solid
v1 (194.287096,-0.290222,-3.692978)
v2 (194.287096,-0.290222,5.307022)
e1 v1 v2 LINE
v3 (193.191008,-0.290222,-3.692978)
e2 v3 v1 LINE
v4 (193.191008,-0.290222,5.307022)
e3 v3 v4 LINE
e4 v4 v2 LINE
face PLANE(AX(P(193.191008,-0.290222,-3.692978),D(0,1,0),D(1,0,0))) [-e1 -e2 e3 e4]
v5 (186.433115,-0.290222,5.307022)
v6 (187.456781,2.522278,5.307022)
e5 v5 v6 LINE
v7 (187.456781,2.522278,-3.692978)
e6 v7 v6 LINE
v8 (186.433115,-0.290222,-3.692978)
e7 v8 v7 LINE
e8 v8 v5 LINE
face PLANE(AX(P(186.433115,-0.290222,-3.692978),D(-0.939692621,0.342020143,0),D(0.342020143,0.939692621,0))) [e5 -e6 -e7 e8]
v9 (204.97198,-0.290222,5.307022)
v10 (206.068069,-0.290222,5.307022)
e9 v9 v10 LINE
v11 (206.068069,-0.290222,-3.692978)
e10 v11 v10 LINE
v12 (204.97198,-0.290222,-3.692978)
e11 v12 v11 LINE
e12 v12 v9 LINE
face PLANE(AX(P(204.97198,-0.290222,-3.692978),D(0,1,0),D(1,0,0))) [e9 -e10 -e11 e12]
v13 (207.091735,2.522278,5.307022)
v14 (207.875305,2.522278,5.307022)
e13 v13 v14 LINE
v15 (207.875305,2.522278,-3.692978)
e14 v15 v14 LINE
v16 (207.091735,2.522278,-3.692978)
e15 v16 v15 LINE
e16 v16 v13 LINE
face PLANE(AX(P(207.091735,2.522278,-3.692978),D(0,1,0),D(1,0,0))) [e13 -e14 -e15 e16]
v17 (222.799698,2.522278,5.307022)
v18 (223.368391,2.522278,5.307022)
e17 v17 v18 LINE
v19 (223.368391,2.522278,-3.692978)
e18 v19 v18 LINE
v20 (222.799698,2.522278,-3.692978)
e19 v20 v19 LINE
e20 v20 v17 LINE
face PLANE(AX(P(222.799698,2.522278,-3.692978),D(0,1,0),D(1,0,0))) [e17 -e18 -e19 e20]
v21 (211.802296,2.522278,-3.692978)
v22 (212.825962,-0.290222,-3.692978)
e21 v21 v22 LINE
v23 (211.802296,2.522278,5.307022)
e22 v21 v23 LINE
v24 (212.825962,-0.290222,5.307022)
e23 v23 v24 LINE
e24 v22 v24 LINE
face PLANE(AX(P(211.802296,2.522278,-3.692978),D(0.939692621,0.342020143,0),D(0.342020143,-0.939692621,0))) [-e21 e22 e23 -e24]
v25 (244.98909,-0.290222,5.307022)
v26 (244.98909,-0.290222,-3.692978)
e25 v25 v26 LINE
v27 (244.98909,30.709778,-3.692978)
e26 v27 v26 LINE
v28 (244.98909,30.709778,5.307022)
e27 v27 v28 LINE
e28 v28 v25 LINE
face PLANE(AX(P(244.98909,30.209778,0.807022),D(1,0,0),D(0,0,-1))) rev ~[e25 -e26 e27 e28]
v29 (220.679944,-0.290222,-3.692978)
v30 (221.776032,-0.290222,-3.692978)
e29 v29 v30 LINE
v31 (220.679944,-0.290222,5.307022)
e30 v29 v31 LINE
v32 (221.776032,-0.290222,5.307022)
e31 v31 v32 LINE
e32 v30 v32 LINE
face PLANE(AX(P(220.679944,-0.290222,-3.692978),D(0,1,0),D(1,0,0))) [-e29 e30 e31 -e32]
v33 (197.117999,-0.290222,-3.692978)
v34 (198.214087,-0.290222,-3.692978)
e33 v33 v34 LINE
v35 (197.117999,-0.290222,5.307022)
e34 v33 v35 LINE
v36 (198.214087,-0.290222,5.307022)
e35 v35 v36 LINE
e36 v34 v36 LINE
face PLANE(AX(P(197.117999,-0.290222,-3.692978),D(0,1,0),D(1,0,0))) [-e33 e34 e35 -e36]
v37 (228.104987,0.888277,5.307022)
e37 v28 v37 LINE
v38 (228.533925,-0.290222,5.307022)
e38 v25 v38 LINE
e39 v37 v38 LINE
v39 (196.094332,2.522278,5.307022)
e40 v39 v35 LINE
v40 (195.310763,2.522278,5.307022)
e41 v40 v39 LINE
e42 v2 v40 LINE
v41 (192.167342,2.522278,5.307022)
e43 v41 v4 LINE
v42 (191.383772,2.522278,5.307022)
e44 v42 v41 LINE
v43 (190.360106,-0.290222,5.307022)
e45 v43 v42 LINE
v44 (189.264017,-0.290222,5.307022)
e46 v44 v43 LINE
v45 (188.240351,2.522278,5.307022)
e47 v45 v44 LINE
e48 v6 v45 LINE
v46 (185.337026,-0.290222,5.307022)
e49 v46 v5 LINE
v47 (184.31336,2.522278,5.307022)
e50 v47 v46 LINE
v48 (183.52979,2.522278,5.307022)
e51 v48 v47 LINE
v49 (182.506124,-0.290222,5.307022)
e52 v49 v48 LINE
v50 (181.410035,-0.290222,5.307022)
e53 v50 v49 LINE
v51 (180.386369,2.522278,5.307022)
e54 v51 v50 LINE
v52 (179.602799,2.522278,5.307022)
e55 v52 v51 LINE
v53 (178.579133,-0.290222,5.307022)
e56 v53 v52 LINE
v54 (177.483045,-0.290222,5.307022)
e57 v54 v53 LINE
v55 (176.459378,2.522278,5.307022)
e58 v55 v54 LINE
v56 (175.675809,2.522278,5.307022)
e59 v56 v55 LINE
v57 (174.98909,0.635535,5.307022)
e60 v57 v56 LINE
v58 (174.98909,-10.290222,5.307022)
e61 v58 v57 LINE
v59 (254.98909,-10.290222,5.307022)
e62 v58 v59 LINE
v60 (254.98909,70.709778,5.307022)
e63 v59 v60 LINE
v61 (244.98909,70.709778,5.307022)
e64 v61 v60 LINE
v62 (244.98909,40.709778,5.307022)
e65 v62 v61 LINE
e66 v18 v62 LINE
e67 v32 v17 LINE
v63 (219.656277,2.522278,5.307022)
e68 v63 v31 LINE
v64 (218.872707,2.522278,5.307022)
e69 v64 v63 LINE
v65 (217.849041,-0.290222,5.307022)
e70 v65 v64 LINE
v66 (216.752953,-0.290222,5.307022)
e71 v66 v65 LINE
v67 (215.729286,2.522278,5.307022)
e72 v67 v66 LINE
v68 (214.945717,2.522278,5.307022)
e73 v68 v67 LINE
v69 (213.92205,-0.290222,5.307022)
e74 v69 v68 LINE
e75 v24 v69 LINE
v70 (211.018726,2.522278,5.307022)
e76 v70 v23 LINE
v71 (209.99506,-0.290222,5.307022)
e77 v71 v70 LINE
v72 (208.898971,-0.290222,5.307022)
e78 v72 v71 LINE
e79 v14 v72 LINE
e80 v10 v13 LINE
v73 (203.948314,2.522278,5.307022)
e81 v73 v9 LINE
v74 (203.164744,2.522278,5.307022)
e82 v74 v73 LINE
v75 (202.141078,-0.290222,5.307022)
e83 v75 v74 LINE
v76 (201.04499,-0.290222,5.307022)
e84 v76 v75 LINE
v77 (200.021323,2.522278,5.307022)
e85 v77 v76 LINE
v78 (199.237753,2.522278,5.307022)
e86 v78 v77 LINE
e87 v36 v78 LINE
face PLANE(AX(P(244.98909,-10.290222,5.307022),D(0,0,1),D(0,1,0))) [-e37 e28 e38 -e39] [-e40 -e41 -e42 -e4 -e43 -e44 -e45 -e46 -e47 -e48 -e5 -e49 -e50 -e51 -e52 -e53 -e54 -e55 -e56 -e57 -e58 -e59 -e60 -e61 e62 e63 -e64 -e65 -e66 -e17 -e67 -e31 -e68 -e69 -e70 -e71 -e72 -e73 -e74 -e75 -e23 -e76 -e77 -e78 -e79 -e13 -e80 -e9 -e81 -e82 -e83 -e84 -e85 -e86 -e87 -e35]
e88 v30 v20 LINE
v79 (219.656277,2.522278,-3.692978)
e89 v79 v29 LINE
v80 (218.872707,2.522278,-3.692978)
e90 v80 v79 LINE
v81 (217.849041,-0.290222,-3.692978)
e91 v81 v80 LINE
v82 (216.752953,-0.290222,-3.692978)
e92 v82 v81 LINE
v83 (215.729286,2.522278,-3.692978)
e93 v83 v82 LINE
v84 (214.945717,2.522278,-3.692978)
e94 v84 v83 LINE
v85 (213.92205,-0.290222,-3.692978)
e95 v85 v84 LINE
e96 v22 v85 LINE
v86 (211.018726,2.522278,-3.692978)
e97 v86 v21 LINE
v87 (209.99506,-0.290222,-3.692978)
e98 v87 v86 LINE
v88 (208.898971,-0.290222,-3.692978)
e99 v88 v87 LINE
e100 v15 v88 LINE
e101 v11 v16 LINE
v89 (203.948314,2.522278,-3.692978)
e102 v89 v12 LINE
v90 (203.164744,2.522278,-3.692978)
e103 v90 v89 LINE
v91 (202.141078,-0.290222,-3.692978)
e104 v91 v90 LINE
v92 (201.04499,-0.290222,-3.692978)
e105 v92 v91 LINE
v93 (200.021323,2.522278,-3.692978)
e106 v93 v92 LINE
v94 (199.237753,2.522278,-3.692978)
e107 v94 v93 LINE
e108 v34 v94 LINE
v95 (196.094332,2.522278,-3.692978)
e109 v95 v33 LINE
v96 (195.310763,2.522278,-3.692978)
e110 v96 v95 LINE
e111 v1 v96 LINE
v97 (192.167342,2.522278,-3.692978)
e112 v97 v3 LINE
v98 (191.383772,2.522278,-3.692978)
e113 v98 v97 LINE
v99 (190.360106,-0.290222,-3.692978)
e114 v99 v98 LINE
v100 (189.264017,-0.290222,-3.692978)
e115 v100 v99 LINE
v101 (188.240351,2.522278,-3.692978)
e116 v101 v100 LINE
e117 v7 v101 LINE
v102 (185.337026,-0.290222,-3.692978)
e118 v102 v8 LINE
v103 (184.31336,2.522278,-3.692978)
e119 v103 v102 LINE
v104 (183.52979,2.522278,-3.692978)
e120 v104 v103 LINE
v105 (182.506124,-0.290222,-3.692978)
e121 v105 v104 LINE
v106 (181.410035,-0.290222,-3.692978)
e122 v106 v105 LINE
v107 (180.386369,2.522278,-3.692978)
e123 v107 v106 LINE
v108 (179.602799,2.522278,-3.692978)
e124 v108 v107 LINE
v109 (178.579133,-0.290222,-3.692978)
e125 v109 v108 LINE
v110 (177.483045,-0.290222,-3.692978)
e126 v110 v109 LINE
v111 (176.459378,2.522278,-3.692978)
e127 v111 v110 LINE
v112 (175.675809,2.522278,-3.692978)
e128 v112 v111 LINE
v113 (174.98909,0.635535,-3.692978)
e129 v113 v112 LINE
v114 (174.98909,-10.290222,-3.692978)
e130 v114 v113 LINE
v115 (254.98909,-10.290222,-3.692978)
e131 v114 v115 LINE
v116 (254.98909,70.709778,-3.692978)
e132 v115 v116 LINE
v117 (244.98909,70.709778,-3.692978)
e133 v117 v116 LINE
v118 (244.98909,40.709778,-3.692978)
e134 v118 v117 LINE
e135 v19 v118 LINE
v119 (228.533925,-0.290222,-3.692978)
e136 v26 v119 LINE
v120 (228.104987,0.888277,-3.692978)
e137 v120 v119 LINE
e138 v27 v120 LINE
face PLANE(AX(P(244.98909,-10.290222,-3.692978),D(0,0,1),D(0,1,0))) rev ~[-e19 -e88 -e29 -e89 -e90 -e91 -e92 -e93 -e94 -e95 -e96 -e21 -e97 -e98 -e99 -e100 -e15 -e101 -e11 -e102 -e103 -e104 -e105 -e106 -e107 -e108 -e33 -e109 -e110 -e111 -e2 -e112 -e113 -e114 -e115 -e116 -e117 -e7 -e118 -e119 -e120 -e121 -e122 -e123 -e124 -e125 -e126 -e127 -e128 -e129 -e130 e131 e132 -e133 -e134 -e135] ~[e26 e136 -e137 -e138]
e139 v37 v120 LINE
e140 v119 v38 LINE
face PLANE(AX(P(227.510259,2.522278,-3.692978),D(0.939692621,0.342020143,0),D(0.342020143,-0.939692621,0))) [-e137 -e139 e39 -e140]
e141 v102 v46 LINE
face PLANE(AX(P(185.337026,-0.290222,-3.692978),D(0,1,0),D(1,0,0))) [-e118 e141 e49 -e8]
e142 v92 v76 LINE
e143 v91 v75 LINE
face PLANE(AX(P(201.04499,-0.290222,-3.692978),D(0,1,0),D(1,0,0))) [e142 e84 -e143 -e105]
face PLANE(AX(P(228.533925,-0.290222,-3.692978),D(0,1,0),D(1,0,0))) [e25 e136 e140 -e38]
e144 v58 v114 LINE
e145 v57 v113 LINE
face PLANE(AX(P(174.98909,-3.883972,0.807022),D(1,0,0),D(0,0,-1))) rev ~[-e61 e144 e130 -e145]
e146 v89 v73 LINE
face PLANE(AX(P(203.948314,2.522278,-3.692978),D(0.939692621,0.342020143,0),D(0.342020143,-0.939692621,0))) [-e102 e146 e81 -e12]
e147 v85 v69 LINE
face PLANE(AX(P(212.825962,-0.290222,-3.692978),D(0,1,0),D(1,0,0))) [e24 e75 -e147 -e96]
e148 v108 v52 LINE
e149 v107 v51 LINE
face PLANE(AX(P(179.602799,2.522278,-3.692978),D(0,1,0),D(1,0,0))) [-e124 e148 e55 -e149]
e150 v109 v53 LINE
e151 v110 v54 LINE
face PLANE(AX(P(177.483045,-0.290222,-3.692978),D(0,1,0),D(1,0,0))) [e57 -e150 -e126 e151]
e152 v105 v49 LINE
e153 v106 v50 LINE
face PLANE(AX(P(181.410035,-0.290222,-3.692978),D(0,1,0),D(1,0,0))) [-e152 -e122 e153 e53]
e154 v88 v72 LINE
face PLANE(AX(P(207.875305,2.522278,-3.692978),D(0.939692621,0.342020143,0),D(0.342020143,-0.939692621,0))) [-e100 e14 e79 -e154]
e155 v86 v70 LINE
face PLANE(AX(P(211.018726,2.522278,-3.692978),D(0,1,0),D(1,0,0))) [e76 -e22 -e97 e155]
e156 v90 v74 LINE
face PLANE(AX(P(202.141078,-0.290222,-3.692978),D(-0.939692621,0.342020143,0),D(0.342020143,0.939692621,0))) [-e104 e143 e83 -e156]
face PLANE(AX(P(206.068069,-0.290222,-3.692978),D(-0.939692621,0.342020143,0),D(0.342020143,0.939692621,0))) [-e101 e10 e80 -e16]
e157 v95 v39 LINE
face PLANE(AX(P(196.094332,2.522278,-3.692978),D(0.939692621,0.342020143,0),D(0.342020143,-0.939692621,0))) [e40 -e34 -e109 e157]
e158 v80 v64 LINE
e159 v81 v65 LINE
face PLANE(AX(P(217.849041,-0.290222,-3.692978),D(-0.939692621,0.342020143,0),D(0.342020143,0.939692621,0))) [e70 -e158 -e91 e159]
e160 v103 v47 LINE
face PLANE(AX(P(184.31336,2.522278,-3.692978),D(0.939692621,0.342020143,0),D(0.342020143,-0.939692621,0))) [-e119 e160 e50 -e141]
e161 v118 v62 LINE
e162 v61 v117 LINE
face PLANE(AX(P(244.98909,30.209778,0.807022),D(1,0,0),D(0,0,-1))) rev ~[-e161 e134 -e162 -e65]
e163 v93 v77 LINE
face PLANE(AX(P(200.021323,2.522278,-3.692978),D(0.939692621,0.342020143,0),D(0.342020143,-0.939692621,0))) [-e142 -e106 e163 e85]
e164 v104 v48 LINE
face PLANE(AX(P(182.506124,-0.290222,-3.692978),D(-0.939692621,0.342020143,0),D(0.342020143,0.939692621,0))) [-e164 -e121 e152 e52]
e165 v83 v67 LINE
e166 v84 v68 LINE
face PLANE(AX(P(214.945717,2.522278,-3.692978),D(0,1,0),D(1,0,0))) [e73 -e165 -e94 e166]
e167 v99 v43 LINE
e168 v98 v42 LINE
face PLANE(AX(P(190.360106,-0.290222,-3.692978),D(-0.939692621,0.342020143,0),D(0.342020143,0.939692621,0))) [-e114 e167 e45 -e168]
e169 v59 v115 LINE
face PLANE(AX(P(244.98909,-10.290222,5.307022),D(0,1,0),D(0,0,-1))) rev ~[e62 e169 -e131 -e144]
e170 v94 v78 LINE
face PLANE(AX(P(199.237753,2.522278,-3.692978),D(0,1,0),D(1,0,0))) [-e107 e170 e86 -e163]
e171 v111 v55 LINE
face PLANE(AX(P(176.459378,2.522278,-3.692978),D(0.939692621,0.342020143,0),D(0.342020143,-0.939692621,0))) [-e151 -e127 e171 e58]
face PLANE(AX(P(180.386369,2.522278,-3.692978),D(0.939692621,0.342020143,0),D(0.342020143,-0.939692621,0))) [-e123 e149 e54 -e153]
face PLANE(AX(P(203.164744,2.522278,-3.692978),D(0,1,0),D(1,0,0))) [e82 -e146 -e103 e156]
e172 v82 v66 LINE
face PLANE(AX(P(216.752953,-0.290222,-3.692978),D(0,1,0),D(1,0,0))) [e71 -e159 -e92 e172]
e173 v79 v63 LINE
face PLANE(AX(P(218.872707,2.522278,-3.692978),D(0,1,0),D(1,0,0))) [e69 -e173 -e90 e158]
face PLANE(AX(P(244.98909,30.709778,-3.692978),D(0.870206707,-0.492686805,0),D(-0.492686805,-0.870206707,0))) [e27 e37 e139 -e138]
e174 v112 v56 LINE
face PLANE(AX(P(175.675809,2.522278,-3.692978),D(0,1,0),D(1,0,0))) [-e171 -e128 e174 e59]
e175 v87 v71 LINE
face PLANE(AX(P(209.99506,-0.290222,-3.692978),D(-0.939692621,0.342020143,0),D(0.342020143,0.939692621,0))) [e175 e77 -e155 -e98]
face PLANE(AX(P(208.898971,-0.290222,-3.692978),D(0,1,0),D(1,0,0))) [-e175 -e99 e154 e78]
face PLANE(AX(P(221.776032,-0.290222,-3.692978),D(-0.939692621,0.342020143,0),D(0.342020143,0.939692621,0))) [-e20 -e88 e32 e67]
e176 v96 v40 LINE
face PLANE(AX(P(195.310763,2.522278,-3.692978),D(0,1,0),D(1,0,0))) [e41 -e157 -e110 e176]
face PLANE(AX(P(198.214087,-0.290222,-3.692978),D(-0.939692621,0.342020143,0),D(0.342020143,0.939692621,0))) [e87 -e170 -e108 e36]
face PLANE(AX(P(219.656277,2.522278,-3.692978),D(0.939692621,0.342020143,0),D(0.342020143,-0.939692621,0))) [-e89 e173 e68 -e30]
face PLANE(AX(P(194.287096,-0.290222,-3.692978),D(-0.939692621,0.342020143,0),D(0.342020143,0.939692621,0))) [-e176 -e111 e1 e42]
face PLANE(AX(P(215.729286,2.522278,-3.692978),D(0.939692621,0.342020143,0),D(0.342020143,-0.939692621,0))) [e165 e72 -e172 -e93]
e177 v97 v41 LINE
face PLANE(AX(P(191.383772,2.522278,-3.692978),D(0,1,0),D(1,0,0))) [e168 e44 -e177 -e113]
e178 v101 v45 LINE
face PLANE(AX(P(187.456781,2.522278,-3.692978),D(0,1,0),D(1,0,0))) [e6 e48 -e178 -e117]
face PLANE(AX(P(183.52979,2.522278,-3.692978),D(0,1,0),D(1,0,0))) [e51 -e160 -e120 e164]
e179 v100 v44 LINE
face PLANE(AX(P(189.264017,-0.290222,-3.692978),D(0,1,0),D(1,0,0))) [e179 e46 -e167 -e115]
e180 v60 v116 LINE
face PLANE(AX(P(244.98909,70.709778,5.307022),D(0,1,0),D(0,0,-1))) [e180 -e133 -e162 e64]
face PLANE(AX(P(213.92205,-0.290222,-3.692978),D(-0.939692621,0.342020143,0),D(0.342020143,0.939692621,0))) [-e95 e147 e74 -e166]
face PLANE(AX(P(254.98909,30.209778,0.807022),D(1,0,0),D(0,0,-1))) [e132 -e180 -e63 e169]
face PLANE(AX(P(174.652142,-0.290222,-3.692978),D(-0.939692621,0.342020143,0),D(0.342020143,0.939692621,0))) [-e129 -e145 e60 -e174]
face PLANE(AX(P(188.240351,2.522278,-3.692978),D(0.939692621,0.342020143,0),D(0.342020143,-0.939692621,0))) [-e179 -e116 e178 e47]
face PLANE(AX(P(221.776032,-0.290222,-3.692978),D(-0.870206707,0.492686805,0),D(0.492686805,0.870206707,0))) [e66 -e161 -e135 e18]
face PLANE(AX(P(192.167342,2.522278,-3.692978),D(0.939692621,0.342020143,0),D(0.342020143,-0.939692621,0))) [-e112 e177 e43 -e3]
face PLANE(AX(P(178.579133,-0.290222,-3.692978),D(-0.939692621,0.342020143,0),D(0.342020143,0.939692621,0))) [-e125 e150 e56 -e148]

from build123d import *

# Parameters (mm, degrees)
BOSS_EXTRUDE1_DEPTH      = 9
CUT_EXTRUDE3_START       = -75
SKETCH4_W                = 9
SKETCH4_H                = 12.8125
CUT_EXTRUDE3_DEPTH       = 426.134035175
BOSS_EXTRUDE2_DEPTH      = 5
BOSS_EXTRUDE2_DEPTH_BACK = 5
SKETCH5_W                = 9
SKETCH5_H                = 81
BOSS_EXTRUDE3_DEPTH      = 9
CUT_EXTRUDE4_DEPTH       = 10


with BuildPart() as part:
    # Sketch1 → Boss-Extrude1 (new body)
    with BuildSketch(Plane(origin=(0, 0, -3.69297844), x_dir=(-1, 0, 0), z_dir=(0, 0, -1))):
        Polygon((-247.145212992, 2.522278293), (-248.168879276, -0.290221707), (-249.2649677, -0.290221707), (-249.9890903, 1.699288787), (-249.9890903, -10.290221707), (250.0109097, -10.290221707), (250.0109097, -0.290221707), (249.462865488, -0.290221707), (248.439199204, 2.522278293), (247.655629383, 2.522278293), (246.631963099, -0.290221707), (245.535874675, -0.290221707), (244.512208391, 2.522278293), (243.728638571, 2.522278293), (242.704972287, -0.290221707), (241.608883863, -0.290221707), (240.585217579, 2.522278293), (239.801647758, 2.522278293), (238.777981474, -0.290221707), (237.68189305, -0.290221707), (236.658226766, 2.522278293), (235.874656946, 2.522278293), (234.850990662, -0.290221707), (233.754902238, -0.290221707), (232.731235954, 2.522278293), (231.947666133, 2.522278293), (230.923999849, -0.290221707), (229.827911425, -0.290221707), (228.804245141, 2.522278293), (228.020675321, 2.522278293), (226.997009037, -0.290221707), (225.900920613, -0.290221707), (224.877254329, 2.522278293), (224.093684508, 2.522278293), (223.070018224, -0.290221707), (221.9739298, -0.290221707), (220.950263516, 2.522278293), (220.166693696, 2.522278293), (219.143027412, -0.290221707), (218.046938988, -0.290221707), (217.023272704, 2.522278293), (216.239702883, 2.522278293), (215.216036599, -0.290221707), (214.119948175, -0.290221707), (213.096281891, 2.522278293), (212.312712071, 2.522278293), (211.289045787, -0.290221707), (210.192957363, -0.290221707), (209.169291079, 2.522278293), (208.385721258, 2.522278293), (207.362054974, -0.290221707), (206.26596655, -0.290221707), (205.242300266, 2.522278293), (204.458730446, 2.522278293), (203.435064162, -0.290221707), (202.338975738, -0.290221707), (201.315309454, 2.522278293), (200.531739633, 2.522278293), (199.508073349, -0.290221707), (198.411984925, -0.290221707), (197.388318641, 2.522278293), (196.604748821, 2.522278293), (195.581082537, -0.290221707), (194.484994113, -0.290221707), (193.461327829, 2.522278293), (192.677758008, 2.522278293), (191.654091724, -0.290221707), (190.5580033, -0.290221707), (189.534337016, 2.522278293), (188.750767196, 2.522278293), (187.727100912, -0.290221707), (186.631012488, -0.290221707), (185.607346204, 2.522278293), (184.823776383, 2.522278293), (183.800110099, -0.290221707), (182.704021675, -0.290221707), (181.680355391, 2.522278293), (180.896785571, 2.522278293), (179.873119287, -0.290221707), (178.777030863, -0.290221707), (177.753364579, 2.522278293), (176.969794758, 2.522278293), (175.946128474, -0.290221707), (174.85004005, -0.290221707), (173.826373766, 2.522278293), (173.042803946, 2.522278293), (172.019137662, -0.290221707), (170.923049238, -0.290221707), (169.899382954, 2.522278293), (169.115813133, 2.522278293), (168.092146849, -0.290221707), (166.996058425, -0.290221707), (165.972392141, 2.522278293), (165.188822321, 2.522278293), (164.165156037, -0.290221707), (163.069067613, -0.290221707), (162.045401329, 2.522278293), (161.261831508, 2.522278293), (160.238165224, -0.290221707), (159.1420768, -0.290221707), (158.118410516, 2.522278293), (157.334840696, 2.522278293), (156.311174412, -0.290221707), (155.215085988, -0.290221707), (154.191419704, 2.522278293), (153.407849883, 2.522278293), (152.384183599, -0.290221707), (151.288095175, -0.290221707), (150.264428891, 2.522278293), (149.480859071, 2.522278293), (148.457192787, -0.290221707), (147.361104363, -0.290221707), (146.337438079, 2.522278293), (145.553868258, 2.522278293), (144.530201974, -0.290221707), (143.43411355, -0.290221707), (142.410447266, 2.522278293), (141.626877446, 2.522278293), (140.603211162, -0.290221707), (139.507122738, -0.290221707), (138.483456454, 2.522278293), (137.699886633, 2.522278293), (136.676220349, -0.290221707), (135.580131925, -0.290221707), (134.556465641, 2.522278293), (133.772895821, 2.522278293), (132.749229537, -0.290221707), (131.653141113, -0.290221707), (130.629474829, 2.522278293), (129.845905008, 2.522278293), (128.822238724, -0.290221707), (127.7261503, -0.290221707), (126.702484016, 2.522278293), (125.918914196, 2.522278293), (124.895247912, -0.290221707), (123.799159488, -0.290221707), (122.775493204, 2.522278293), (121.991923383, 2.522278293), (120.968257099, -0.290221707), (119.872168675, -0.290221707), (118.848502391, 2.522278293), (118.064932571, 2.522278293), (117.041266287, -0.290221707), (115.945177863, -0.290221707), (114.921511579, 2.522278293), (114.137941758, 2.522278293), (113.114275474, -0.290221707), (112.01818705, -0.290221707), (110.994520766, 2.522278293), (110.210950946, 2.522278293), (109.187284662, -0.290221707), (108.091196238, -0.290221707), (107.067529954, 2.522278293), (106.283960133, 2.522278293), (105.260293849, -0.290221707), (104.164205425, -0.290221707), (103.140539141, 2.522278293), (102.356969321, 2.522278293), (101.333303037, -0.290221707), (100.237214613, -0.290221707), (99.213548329, 2.522278293), (98.429978508, 2.522278293), (97.406312224, -0.290221707), (96.3102238, -0.290221707), (95.286557516, 2.522278293), (94.502987696, 2.522278293), (93.479321412, -0.290221707), (92.383232988, -0.290221707), (91.359566704, 2.522278293), (90.575996883, 2.522278293), (89.552330599, -0.290221707), (88.456242175, -0.290221707), (87.432575891, 2.522278293), (86.649006071, 2.522278293), (85.625339787, -0.290221707), (84.529251363, -0.290221707), (83.505585079, 2.522278293), (82.722015258, 2.522278293), (81.698348974, -0.290221707), (80.60226055, -0.290221707), (79.578594266, 2.522278293), (78.795024446, 2.522278293), (77.771358162, -0.290221707), (76.675269738, -0.290221707), (75.651603454, 2.522278293), (74.868033633, 2.522278293), (73.844367349, -0.290221707), (72.748278925, -0.290221707), (71.724612641, 2.522278293), (70.941042821, 2.522278293), (69.917376537, -0.290221707), (68.821288113, -0.290221707), (67.797621829, 2.522278293), (67.014052008, 2.522278293), (65.990385724, -0.290221707), (64.8942973, -0.290221707), (63.870631016, 2.522278293), (63.087061196, 2.522278293), (62.063394912, -0.290221707), (60.967306488, -0.290221707), (59.943640204, 2.522278293), (59.160070383, 2.522278293), (58.136404099, -0.290221707), (57.040315675, -0.290221707), (56.016649391, 2.522278293), (55.233079571, 2.522278293), (54.209413287, -0.290221707), (53.113324863, -0.290221707), (52.089658579, 2.522278293), (51.306088758, 2.522278293), (50.282422474, -0.290221707), (49.18633405, -0.290221707), (48.162667766, 2.522278293), (47.379097946, 2.522278293), (46.355431662, -0.290221707), (45.259343238, -0.290221707), (44.235676954, 2.522278293), (43.452107133, 2.522278293), (42.428440849, -0.290221707), (41.332352425, -0.290221707), (40.308686141, 2.522278293), (39.525116321, 2.522278293), (38.501450037, -0.290221707), (37.405361613, -0.290221707), (36.381695329, 2.522278293), (35.598125508, 2.522278293), (34.574459224, -0.290221707), (33.4783708, -0.290221707), (32.454704516, 2.522278293), (31.671134696, 2.522278293), (30.647468412, -0.290221707), (29.551379988, -0.290221707), (28.527713704, 2.522278293), (27.744143883, 2.522278293), (26.720477599, -0.290221707), (25.624389175, -0.290221707), (24.600722891, 2.522278293), (23.817153071, 2.522278293), (22.793486787, -0.290221707), (21.697398363, -0.290221707), (20.673732079, 2.522278293), (19.890162258, 2.522278293), (18.866495974, -0.290221707), (17.77040755, -0.290221707), (16.746741266, 2.522278293), (15.963171446, 2.522278293), (14.939505162, -0.290221707), (13.843416738, -0.290221707), (12.819750454, 2.522278293), (12.036180633, 2.522278293), (11.012514349, -0.290221707), (9.916425925, -0.290221707), (8.892759641, 2.522278293), (8.109189821, 2.522278293), (7.085523537, -0.290221707), (5.989435113, -0.290221707), (4.965768829, 2.522278293), (4.182199008, 2.522278293), (3.158532724, -0.290221707), (2.0624443, -0.290221707), (1.038778016, 2.522278293), (0.255208196, 2.522278293), (-0.768458088, -0.290221707), (-1.864546512, -0.290221707), (-2.888212796, 2.522278293), (-3.671782617, 2.522278293), (-4.695448901, -0.290221707), (-5.791537325, -0.290221707), (-6.815203609, 2.522278293), (-7.598773429, 2.522278293), (-8.622439713, -0.290221707), (-9.718528137, -0.290221707), (-10.742194421, 2.522278293), (-11.525764242, 2.522278293), (-12.549430526, -0.290221707), (-13.64551895, -0.290221707), (-14.669185234, 2.522278293), (-15.452755054, 2.522278293), (-16.476421338, -0.290221707), (-17.572509762, -0.290221707), (-18.596176046, 2.522278293), (-19.379745867, 2.522278293), (-20.403412151, -0.290221707), (-21.499500575, -0.290221707), (-22.523166859, 2.522278293), (-23.306736679, 2.522278293), (-24.330402963, -0.290221707), (-25.426491387, -0.290221707), (-26.450157671, 2.522278293), (-27.233727492, 2.522278293), (-28.257393776, -0.290221707), (-29.3534822, -0.290221707), (-30.377148484, 2.522278293), (-31.160718304, 2.522278293), (-32.184384588, -0.290221707), (-33.280473012, -0.290221707), (-34.304139296, 2.522278293), (-35.087709117, 2.522278293), (-36.111375401, -0.290221707), (-37.207463825, -0.290221707), (-38.231130109, 2.522278293), (-39.014699929, 2.522278293), (-40.038366213, -0.290221707), (-41.134454637, -0.290221707), (-42.158120921, 2.522278293), (-42.941690742, 2.522278293), (-43.965357026, -0.290221707), (-45.06144545, -0.290221707), (-46.085111734, 2.522278293), (-46.868681554, 2.522278293), (-47.892347838, -0.290221707), (-48.988436262, -0.290221707), (-50.012102546, 2.522278293), (-50.795672367, 2.522278293), (-51.819338651, -0.290221707), (-52.915427075, -0.290221707), (-53.939093359, 2.522278293), (-54.722663179, 2.522278293), (-55.746329463, -0.290221707), (-56.842417887, -0.290221707), (-57.866084171, 2.522278293), (-58.649653992, 2.522278293), (-59.673320276, -0.290221707), (-60.7694087, -0.290221707), (-61.793074984, 2.522278293), (-62.576644804, 2.522278293), (-63.600311088, -0.290221707), (-64.696399512, -0.290221707), (-65.720065796, 2.522278293), (-66.503635617, 2.522278293), (-67.527301901, -0.290221707), (-68.623390325, -0.290221707), (-69.647056609, 2.522278293), (-70.430626429, 2.522278293), (-71.454292713, -0.290221707), (-72.550381137, -0.290221707), (-73.574047421, 2.522278293), (-74.357617242, 2.522278293), (-75.381283526, -0.290221707), (-76.47737195, -0.290221707), (-77.501038234, 2.522278293), (-78.284608054, 2.522278293), (-79.308274338, -0.290221707), (-80.404362762, -0.290221707), (-81.428029046, 2.522278293), (-82.211598867, 2.522278293), (-83.235265151, -0.290221707), (-84.331353575, -0.290221707), (-85.355019859, 2.522278293), (-86.138589679, 2.522278293), (-87.162255963, -0.290221707), (-88.258344387, -0.290221707), (-89.282010671, 2.522278293), (-90.065580492, 2.522278293), (-91.089246776, -0.290221707), (-92.1853352, -0.290221707), (-93.209001484, 2.522278293), (-93.992571304, 2.522278293), (-95.016237588, -0.290221707), (-96.112326012, -0.290221707), (-97.135992296, 2.522278293), (-97.919562117, 2.522278293), (-98.943228401, -0.290221707), (-100.039316825, -0.290221707), (-101.062983109, 2.522278293), (-101.846552929, 2.522278293), (-102.870219213, -0.290221707), (-103.966307637, -0.290221707), (-104.989973921, 2.522278293), (-105.773543742, 2.522278293), (-106.797210026, -0.290221707), (-107.89329845, -0.290221707), (-108.916964734, 2.522278293), (-109.700534554, 2.522278293), (-110.724200838, -0.290221707), (-111.820289262, -0.290221707), (-112.843955546, 2.522278293), (-113.627525367, 2.522278293), (-114.651191651, -0.290221707), (-115.747280075, -0.290221707), (-116.770946359, 2.522278293), (-117.554516179, 2.522278293), (-118.578182463, -0.290221707), (-119.674270887, -0.290221707), (-120.697937171, 2.522278293), (-121.481506992, 2.522278293), (-122.505173276, -0.290221707), (-123.6012617, -0.290221707), (-124.624927984, 2.522278293), (-125.408497804, 2.522278293), (-126.432164088, -0.290221707), (-127.528252512, -0.290221707), (-128.551918796, 2.522278293), (-129.335488617, 2.522278293), (-130.359154901, -0.290221707), (-131.455243325, -0.290221707), (-132.478909609, 2.522278293), (-133.262479429, 2.522278293), (-134.286145713, -0.290221707), (-135.382234137, -0.290221707), (-136.405900421, 2.522278293), (-137.189470242, 2.522278293), (-138.213136526, -0.290221707), (-139.30922495, -0.290221707), (-140.332891234, 2.522278293), (-141.116461054, 2.522278293), (-142.140127338, -0.290221707), (-143.236215762, -0.290221707), (-144.259882046, 2.522278293), (-145.043451867, 2.522278293), (-146.067118151, -0.290221707), (-147.163206575, -0.290221707), (-148.186872859, 2.522278293), (-148.970442679, 2.522278293), (-149.994108963, -0.290221707), (-151.090197387, -0.290221707), (-152.113863671, 2.522278293), (-152.897433492, 2.522278293), (-153.921099776, -0.290221707), (-155.0171882, -0.290221707), (-156.040854484, 2.522278293), (-156.824424304, 2.522278293), (-157.848090588, -0.290221707), (-158.944179012, -0.290221707), (-159.967845296, 2.522278293), (-160.751415117, 2.522278293), (-161.775081401, -0.290221707), (-162.871169825, -0.290221707), (-163.894836109, 2.522278293), (-164.678405929, 2.522278293), (-165.702072213, -0.290221707), (-166.798160637, -0.290221707), (-167.821826921, 2.522278293), (-168.605396742, 2.522278293), (-169.629063026, -0.290221707), (-170.72515145, -0.290221707), (-171.748817734, 2.522278293), (-172.532387554, 2.522278293), (-173.556053838, -0.290221707), (-174.652142262, -0.290221707), (-175.675808546, 2.522278293), (-176.459378367, 2.522278293), (-177.483044651, -0.290221707), (-178.579133075, -0.290221707), (-179.602799359, 2.522278293), (-180.386369179, 2.522278293), (-181.410035463, -0.290221707), (-182.506123887, -0.290221707), (-183.529790171, 2.522278293), (-184.313359992, 2.522278293), (-185.337026276, -0.290221707), (-186.4331147, -0.290221707), (-187.456780984, 2.522278293), (-188.240350804, 2.522278293), (-189.264017088, -0.290221707), (-190.360105512, -0.290221707), (-191.383771796, 2.522278293), (-192.167341617, 2.522278293), (-193.191007901, -0.290221707), (-194.287096325, -0.290221707), (-195.310762609, 2.522278293), (-196.094332429, 2.522278293), (-197.117998713, -0.290221707), (-198.214087137, -0.290221707), (-199.237753421, 2.522278293), (-200.021323242, 2.522278293), (-201.044989526, -0.290221707), (-202.14107795, -0.290221707), (-203.164744234, 2.522278293), (-203.948314054, 2.522278293), (-204.971980338, -0.290221707), (-206.068068762, -0.290221707), (-207.091735046, 2.522278293), (-207.875304867, 2.522278293), (-208.898971151, -0.290221707), (-209.995059575, -0.290221707), (-211.018725859, 2.522278293), (-211.802295679, 2.522278293), (-212.825961963, -0.290221707), (-213.922050387, -0.290221707), (-214.945716671, 2.522278293), (-215.729286492, 2.522278293), (-216.752952776, -0.290221707), (-217.8490412, -0.290221707), (-218.872707484, 2.522278293), (-219.656277304, 2.522278293), (-220.679943588, -0.290221707), (-221.776032012, -0.290221707), (-222.799698296, 2.522278293), (-223.583268117, 2.522278293), (-224.606934401, -0.290221707), (-225.703022825, -0.290221707), (-226.726689109, 2.522278293), (-227.510258929, 2.522278293), (-228.533925213, -0.290221707), (-229.630013637, -0.290221707), (-230.653679921, 2.522278293), (-231.437249742, 2.522278293), (-232.460916026, -0.290221707), (-233.55700445, -0.290221707), (-234.580670734, 2.522278293), (-235.364240554, 2.522278293), (-236.387906838, -0.290221707), (-237.483995262, -0.290221707), (-238.507661546, 2.522278293), (-239.291231367, 2.522278293), (-240.314897651, -0.290221707), (-241.410986075, -0.290221707), (-242.434652359, 2.522278293), (-243.218222179, 2.522278293), (-244.241888463, -0.290221707), (-245.337976887, -0.290221707), (-246.361643171, 2.522278293), align=None)
    extrude(amount=-BOSS_EXTRUDE1_DEPTH)

    # Sketch4 → Cut-Extrude3 (cut, through all)
    with BuildSketch(Plane(origin=(249.9890903, 0, 0), x_dir=(0, 0, -1), z_dir=(1, 0, 0)).offset(CUT_EXTRUDE3_START)):
        with Locations((-0.80702156, -3.883971707)):
            Rectangle(SKETCH4_W, SKETCH4_H)
    extrude(amount=-CUT_EXTRUDE3_DEPTH, mode=Mode.SUBTRACT)

    # Sketch5 → Boss-Extrude2 (add, two sides: drawn at the far end of the back side and taken through both)
    with BuildSketch(Plane(origin=(249.9890903, 0, 0), x_dir=(0, 0, -1), z_dir=(1, 0, 0)).offset(-BOSS_EXTRUDE2_DEPTH_BACK)):
        with Locations((-0.80702156, 30.209778293)):
            Rectangle(SKETCH5_W, SKETCH5_H)
    extrude(amount=BOSS_EXTRUDE2_DEPTH + BOSS_EXTRUDE2_DEPTH_BACK)

    # Sketch6 → Boss-Extrude3 (add)
    with BuildSketch(Plane(origin=(0, 0, -3.69297844), x_dir=(-1, 0, 0), z_dir=(0, 0, -1))):
        Polygon((-221.776032012, -0.290221707), (-244.9890903, 40.709778293), (-244.9890903, 30.709778293), (-226.296912319, -2.305229368), align=None)
    extrude(amount=-BOSS_EXTRUDE3_DEPTH)

    # Sketch7 → Cut-Extrude4 (cut)
    with BuildSketch(Plane(origin=(0, 0, -3.69297844), x_dir=(-1, 0, 0), z_dir=(0, 0, -1))):
        Polygon((-230.653679921, 2.522278293), (-229.630013637, -0.290221707), (-230.653679921, -0.290221707), (-244.9890903, -0.290221707), (-244.9890903, 2.522278293), align=None)
    extrude(amount=-CUT_EXTRUDE4_DEPTH, mode=Mode.SUBTRACT)


solid = part.part
